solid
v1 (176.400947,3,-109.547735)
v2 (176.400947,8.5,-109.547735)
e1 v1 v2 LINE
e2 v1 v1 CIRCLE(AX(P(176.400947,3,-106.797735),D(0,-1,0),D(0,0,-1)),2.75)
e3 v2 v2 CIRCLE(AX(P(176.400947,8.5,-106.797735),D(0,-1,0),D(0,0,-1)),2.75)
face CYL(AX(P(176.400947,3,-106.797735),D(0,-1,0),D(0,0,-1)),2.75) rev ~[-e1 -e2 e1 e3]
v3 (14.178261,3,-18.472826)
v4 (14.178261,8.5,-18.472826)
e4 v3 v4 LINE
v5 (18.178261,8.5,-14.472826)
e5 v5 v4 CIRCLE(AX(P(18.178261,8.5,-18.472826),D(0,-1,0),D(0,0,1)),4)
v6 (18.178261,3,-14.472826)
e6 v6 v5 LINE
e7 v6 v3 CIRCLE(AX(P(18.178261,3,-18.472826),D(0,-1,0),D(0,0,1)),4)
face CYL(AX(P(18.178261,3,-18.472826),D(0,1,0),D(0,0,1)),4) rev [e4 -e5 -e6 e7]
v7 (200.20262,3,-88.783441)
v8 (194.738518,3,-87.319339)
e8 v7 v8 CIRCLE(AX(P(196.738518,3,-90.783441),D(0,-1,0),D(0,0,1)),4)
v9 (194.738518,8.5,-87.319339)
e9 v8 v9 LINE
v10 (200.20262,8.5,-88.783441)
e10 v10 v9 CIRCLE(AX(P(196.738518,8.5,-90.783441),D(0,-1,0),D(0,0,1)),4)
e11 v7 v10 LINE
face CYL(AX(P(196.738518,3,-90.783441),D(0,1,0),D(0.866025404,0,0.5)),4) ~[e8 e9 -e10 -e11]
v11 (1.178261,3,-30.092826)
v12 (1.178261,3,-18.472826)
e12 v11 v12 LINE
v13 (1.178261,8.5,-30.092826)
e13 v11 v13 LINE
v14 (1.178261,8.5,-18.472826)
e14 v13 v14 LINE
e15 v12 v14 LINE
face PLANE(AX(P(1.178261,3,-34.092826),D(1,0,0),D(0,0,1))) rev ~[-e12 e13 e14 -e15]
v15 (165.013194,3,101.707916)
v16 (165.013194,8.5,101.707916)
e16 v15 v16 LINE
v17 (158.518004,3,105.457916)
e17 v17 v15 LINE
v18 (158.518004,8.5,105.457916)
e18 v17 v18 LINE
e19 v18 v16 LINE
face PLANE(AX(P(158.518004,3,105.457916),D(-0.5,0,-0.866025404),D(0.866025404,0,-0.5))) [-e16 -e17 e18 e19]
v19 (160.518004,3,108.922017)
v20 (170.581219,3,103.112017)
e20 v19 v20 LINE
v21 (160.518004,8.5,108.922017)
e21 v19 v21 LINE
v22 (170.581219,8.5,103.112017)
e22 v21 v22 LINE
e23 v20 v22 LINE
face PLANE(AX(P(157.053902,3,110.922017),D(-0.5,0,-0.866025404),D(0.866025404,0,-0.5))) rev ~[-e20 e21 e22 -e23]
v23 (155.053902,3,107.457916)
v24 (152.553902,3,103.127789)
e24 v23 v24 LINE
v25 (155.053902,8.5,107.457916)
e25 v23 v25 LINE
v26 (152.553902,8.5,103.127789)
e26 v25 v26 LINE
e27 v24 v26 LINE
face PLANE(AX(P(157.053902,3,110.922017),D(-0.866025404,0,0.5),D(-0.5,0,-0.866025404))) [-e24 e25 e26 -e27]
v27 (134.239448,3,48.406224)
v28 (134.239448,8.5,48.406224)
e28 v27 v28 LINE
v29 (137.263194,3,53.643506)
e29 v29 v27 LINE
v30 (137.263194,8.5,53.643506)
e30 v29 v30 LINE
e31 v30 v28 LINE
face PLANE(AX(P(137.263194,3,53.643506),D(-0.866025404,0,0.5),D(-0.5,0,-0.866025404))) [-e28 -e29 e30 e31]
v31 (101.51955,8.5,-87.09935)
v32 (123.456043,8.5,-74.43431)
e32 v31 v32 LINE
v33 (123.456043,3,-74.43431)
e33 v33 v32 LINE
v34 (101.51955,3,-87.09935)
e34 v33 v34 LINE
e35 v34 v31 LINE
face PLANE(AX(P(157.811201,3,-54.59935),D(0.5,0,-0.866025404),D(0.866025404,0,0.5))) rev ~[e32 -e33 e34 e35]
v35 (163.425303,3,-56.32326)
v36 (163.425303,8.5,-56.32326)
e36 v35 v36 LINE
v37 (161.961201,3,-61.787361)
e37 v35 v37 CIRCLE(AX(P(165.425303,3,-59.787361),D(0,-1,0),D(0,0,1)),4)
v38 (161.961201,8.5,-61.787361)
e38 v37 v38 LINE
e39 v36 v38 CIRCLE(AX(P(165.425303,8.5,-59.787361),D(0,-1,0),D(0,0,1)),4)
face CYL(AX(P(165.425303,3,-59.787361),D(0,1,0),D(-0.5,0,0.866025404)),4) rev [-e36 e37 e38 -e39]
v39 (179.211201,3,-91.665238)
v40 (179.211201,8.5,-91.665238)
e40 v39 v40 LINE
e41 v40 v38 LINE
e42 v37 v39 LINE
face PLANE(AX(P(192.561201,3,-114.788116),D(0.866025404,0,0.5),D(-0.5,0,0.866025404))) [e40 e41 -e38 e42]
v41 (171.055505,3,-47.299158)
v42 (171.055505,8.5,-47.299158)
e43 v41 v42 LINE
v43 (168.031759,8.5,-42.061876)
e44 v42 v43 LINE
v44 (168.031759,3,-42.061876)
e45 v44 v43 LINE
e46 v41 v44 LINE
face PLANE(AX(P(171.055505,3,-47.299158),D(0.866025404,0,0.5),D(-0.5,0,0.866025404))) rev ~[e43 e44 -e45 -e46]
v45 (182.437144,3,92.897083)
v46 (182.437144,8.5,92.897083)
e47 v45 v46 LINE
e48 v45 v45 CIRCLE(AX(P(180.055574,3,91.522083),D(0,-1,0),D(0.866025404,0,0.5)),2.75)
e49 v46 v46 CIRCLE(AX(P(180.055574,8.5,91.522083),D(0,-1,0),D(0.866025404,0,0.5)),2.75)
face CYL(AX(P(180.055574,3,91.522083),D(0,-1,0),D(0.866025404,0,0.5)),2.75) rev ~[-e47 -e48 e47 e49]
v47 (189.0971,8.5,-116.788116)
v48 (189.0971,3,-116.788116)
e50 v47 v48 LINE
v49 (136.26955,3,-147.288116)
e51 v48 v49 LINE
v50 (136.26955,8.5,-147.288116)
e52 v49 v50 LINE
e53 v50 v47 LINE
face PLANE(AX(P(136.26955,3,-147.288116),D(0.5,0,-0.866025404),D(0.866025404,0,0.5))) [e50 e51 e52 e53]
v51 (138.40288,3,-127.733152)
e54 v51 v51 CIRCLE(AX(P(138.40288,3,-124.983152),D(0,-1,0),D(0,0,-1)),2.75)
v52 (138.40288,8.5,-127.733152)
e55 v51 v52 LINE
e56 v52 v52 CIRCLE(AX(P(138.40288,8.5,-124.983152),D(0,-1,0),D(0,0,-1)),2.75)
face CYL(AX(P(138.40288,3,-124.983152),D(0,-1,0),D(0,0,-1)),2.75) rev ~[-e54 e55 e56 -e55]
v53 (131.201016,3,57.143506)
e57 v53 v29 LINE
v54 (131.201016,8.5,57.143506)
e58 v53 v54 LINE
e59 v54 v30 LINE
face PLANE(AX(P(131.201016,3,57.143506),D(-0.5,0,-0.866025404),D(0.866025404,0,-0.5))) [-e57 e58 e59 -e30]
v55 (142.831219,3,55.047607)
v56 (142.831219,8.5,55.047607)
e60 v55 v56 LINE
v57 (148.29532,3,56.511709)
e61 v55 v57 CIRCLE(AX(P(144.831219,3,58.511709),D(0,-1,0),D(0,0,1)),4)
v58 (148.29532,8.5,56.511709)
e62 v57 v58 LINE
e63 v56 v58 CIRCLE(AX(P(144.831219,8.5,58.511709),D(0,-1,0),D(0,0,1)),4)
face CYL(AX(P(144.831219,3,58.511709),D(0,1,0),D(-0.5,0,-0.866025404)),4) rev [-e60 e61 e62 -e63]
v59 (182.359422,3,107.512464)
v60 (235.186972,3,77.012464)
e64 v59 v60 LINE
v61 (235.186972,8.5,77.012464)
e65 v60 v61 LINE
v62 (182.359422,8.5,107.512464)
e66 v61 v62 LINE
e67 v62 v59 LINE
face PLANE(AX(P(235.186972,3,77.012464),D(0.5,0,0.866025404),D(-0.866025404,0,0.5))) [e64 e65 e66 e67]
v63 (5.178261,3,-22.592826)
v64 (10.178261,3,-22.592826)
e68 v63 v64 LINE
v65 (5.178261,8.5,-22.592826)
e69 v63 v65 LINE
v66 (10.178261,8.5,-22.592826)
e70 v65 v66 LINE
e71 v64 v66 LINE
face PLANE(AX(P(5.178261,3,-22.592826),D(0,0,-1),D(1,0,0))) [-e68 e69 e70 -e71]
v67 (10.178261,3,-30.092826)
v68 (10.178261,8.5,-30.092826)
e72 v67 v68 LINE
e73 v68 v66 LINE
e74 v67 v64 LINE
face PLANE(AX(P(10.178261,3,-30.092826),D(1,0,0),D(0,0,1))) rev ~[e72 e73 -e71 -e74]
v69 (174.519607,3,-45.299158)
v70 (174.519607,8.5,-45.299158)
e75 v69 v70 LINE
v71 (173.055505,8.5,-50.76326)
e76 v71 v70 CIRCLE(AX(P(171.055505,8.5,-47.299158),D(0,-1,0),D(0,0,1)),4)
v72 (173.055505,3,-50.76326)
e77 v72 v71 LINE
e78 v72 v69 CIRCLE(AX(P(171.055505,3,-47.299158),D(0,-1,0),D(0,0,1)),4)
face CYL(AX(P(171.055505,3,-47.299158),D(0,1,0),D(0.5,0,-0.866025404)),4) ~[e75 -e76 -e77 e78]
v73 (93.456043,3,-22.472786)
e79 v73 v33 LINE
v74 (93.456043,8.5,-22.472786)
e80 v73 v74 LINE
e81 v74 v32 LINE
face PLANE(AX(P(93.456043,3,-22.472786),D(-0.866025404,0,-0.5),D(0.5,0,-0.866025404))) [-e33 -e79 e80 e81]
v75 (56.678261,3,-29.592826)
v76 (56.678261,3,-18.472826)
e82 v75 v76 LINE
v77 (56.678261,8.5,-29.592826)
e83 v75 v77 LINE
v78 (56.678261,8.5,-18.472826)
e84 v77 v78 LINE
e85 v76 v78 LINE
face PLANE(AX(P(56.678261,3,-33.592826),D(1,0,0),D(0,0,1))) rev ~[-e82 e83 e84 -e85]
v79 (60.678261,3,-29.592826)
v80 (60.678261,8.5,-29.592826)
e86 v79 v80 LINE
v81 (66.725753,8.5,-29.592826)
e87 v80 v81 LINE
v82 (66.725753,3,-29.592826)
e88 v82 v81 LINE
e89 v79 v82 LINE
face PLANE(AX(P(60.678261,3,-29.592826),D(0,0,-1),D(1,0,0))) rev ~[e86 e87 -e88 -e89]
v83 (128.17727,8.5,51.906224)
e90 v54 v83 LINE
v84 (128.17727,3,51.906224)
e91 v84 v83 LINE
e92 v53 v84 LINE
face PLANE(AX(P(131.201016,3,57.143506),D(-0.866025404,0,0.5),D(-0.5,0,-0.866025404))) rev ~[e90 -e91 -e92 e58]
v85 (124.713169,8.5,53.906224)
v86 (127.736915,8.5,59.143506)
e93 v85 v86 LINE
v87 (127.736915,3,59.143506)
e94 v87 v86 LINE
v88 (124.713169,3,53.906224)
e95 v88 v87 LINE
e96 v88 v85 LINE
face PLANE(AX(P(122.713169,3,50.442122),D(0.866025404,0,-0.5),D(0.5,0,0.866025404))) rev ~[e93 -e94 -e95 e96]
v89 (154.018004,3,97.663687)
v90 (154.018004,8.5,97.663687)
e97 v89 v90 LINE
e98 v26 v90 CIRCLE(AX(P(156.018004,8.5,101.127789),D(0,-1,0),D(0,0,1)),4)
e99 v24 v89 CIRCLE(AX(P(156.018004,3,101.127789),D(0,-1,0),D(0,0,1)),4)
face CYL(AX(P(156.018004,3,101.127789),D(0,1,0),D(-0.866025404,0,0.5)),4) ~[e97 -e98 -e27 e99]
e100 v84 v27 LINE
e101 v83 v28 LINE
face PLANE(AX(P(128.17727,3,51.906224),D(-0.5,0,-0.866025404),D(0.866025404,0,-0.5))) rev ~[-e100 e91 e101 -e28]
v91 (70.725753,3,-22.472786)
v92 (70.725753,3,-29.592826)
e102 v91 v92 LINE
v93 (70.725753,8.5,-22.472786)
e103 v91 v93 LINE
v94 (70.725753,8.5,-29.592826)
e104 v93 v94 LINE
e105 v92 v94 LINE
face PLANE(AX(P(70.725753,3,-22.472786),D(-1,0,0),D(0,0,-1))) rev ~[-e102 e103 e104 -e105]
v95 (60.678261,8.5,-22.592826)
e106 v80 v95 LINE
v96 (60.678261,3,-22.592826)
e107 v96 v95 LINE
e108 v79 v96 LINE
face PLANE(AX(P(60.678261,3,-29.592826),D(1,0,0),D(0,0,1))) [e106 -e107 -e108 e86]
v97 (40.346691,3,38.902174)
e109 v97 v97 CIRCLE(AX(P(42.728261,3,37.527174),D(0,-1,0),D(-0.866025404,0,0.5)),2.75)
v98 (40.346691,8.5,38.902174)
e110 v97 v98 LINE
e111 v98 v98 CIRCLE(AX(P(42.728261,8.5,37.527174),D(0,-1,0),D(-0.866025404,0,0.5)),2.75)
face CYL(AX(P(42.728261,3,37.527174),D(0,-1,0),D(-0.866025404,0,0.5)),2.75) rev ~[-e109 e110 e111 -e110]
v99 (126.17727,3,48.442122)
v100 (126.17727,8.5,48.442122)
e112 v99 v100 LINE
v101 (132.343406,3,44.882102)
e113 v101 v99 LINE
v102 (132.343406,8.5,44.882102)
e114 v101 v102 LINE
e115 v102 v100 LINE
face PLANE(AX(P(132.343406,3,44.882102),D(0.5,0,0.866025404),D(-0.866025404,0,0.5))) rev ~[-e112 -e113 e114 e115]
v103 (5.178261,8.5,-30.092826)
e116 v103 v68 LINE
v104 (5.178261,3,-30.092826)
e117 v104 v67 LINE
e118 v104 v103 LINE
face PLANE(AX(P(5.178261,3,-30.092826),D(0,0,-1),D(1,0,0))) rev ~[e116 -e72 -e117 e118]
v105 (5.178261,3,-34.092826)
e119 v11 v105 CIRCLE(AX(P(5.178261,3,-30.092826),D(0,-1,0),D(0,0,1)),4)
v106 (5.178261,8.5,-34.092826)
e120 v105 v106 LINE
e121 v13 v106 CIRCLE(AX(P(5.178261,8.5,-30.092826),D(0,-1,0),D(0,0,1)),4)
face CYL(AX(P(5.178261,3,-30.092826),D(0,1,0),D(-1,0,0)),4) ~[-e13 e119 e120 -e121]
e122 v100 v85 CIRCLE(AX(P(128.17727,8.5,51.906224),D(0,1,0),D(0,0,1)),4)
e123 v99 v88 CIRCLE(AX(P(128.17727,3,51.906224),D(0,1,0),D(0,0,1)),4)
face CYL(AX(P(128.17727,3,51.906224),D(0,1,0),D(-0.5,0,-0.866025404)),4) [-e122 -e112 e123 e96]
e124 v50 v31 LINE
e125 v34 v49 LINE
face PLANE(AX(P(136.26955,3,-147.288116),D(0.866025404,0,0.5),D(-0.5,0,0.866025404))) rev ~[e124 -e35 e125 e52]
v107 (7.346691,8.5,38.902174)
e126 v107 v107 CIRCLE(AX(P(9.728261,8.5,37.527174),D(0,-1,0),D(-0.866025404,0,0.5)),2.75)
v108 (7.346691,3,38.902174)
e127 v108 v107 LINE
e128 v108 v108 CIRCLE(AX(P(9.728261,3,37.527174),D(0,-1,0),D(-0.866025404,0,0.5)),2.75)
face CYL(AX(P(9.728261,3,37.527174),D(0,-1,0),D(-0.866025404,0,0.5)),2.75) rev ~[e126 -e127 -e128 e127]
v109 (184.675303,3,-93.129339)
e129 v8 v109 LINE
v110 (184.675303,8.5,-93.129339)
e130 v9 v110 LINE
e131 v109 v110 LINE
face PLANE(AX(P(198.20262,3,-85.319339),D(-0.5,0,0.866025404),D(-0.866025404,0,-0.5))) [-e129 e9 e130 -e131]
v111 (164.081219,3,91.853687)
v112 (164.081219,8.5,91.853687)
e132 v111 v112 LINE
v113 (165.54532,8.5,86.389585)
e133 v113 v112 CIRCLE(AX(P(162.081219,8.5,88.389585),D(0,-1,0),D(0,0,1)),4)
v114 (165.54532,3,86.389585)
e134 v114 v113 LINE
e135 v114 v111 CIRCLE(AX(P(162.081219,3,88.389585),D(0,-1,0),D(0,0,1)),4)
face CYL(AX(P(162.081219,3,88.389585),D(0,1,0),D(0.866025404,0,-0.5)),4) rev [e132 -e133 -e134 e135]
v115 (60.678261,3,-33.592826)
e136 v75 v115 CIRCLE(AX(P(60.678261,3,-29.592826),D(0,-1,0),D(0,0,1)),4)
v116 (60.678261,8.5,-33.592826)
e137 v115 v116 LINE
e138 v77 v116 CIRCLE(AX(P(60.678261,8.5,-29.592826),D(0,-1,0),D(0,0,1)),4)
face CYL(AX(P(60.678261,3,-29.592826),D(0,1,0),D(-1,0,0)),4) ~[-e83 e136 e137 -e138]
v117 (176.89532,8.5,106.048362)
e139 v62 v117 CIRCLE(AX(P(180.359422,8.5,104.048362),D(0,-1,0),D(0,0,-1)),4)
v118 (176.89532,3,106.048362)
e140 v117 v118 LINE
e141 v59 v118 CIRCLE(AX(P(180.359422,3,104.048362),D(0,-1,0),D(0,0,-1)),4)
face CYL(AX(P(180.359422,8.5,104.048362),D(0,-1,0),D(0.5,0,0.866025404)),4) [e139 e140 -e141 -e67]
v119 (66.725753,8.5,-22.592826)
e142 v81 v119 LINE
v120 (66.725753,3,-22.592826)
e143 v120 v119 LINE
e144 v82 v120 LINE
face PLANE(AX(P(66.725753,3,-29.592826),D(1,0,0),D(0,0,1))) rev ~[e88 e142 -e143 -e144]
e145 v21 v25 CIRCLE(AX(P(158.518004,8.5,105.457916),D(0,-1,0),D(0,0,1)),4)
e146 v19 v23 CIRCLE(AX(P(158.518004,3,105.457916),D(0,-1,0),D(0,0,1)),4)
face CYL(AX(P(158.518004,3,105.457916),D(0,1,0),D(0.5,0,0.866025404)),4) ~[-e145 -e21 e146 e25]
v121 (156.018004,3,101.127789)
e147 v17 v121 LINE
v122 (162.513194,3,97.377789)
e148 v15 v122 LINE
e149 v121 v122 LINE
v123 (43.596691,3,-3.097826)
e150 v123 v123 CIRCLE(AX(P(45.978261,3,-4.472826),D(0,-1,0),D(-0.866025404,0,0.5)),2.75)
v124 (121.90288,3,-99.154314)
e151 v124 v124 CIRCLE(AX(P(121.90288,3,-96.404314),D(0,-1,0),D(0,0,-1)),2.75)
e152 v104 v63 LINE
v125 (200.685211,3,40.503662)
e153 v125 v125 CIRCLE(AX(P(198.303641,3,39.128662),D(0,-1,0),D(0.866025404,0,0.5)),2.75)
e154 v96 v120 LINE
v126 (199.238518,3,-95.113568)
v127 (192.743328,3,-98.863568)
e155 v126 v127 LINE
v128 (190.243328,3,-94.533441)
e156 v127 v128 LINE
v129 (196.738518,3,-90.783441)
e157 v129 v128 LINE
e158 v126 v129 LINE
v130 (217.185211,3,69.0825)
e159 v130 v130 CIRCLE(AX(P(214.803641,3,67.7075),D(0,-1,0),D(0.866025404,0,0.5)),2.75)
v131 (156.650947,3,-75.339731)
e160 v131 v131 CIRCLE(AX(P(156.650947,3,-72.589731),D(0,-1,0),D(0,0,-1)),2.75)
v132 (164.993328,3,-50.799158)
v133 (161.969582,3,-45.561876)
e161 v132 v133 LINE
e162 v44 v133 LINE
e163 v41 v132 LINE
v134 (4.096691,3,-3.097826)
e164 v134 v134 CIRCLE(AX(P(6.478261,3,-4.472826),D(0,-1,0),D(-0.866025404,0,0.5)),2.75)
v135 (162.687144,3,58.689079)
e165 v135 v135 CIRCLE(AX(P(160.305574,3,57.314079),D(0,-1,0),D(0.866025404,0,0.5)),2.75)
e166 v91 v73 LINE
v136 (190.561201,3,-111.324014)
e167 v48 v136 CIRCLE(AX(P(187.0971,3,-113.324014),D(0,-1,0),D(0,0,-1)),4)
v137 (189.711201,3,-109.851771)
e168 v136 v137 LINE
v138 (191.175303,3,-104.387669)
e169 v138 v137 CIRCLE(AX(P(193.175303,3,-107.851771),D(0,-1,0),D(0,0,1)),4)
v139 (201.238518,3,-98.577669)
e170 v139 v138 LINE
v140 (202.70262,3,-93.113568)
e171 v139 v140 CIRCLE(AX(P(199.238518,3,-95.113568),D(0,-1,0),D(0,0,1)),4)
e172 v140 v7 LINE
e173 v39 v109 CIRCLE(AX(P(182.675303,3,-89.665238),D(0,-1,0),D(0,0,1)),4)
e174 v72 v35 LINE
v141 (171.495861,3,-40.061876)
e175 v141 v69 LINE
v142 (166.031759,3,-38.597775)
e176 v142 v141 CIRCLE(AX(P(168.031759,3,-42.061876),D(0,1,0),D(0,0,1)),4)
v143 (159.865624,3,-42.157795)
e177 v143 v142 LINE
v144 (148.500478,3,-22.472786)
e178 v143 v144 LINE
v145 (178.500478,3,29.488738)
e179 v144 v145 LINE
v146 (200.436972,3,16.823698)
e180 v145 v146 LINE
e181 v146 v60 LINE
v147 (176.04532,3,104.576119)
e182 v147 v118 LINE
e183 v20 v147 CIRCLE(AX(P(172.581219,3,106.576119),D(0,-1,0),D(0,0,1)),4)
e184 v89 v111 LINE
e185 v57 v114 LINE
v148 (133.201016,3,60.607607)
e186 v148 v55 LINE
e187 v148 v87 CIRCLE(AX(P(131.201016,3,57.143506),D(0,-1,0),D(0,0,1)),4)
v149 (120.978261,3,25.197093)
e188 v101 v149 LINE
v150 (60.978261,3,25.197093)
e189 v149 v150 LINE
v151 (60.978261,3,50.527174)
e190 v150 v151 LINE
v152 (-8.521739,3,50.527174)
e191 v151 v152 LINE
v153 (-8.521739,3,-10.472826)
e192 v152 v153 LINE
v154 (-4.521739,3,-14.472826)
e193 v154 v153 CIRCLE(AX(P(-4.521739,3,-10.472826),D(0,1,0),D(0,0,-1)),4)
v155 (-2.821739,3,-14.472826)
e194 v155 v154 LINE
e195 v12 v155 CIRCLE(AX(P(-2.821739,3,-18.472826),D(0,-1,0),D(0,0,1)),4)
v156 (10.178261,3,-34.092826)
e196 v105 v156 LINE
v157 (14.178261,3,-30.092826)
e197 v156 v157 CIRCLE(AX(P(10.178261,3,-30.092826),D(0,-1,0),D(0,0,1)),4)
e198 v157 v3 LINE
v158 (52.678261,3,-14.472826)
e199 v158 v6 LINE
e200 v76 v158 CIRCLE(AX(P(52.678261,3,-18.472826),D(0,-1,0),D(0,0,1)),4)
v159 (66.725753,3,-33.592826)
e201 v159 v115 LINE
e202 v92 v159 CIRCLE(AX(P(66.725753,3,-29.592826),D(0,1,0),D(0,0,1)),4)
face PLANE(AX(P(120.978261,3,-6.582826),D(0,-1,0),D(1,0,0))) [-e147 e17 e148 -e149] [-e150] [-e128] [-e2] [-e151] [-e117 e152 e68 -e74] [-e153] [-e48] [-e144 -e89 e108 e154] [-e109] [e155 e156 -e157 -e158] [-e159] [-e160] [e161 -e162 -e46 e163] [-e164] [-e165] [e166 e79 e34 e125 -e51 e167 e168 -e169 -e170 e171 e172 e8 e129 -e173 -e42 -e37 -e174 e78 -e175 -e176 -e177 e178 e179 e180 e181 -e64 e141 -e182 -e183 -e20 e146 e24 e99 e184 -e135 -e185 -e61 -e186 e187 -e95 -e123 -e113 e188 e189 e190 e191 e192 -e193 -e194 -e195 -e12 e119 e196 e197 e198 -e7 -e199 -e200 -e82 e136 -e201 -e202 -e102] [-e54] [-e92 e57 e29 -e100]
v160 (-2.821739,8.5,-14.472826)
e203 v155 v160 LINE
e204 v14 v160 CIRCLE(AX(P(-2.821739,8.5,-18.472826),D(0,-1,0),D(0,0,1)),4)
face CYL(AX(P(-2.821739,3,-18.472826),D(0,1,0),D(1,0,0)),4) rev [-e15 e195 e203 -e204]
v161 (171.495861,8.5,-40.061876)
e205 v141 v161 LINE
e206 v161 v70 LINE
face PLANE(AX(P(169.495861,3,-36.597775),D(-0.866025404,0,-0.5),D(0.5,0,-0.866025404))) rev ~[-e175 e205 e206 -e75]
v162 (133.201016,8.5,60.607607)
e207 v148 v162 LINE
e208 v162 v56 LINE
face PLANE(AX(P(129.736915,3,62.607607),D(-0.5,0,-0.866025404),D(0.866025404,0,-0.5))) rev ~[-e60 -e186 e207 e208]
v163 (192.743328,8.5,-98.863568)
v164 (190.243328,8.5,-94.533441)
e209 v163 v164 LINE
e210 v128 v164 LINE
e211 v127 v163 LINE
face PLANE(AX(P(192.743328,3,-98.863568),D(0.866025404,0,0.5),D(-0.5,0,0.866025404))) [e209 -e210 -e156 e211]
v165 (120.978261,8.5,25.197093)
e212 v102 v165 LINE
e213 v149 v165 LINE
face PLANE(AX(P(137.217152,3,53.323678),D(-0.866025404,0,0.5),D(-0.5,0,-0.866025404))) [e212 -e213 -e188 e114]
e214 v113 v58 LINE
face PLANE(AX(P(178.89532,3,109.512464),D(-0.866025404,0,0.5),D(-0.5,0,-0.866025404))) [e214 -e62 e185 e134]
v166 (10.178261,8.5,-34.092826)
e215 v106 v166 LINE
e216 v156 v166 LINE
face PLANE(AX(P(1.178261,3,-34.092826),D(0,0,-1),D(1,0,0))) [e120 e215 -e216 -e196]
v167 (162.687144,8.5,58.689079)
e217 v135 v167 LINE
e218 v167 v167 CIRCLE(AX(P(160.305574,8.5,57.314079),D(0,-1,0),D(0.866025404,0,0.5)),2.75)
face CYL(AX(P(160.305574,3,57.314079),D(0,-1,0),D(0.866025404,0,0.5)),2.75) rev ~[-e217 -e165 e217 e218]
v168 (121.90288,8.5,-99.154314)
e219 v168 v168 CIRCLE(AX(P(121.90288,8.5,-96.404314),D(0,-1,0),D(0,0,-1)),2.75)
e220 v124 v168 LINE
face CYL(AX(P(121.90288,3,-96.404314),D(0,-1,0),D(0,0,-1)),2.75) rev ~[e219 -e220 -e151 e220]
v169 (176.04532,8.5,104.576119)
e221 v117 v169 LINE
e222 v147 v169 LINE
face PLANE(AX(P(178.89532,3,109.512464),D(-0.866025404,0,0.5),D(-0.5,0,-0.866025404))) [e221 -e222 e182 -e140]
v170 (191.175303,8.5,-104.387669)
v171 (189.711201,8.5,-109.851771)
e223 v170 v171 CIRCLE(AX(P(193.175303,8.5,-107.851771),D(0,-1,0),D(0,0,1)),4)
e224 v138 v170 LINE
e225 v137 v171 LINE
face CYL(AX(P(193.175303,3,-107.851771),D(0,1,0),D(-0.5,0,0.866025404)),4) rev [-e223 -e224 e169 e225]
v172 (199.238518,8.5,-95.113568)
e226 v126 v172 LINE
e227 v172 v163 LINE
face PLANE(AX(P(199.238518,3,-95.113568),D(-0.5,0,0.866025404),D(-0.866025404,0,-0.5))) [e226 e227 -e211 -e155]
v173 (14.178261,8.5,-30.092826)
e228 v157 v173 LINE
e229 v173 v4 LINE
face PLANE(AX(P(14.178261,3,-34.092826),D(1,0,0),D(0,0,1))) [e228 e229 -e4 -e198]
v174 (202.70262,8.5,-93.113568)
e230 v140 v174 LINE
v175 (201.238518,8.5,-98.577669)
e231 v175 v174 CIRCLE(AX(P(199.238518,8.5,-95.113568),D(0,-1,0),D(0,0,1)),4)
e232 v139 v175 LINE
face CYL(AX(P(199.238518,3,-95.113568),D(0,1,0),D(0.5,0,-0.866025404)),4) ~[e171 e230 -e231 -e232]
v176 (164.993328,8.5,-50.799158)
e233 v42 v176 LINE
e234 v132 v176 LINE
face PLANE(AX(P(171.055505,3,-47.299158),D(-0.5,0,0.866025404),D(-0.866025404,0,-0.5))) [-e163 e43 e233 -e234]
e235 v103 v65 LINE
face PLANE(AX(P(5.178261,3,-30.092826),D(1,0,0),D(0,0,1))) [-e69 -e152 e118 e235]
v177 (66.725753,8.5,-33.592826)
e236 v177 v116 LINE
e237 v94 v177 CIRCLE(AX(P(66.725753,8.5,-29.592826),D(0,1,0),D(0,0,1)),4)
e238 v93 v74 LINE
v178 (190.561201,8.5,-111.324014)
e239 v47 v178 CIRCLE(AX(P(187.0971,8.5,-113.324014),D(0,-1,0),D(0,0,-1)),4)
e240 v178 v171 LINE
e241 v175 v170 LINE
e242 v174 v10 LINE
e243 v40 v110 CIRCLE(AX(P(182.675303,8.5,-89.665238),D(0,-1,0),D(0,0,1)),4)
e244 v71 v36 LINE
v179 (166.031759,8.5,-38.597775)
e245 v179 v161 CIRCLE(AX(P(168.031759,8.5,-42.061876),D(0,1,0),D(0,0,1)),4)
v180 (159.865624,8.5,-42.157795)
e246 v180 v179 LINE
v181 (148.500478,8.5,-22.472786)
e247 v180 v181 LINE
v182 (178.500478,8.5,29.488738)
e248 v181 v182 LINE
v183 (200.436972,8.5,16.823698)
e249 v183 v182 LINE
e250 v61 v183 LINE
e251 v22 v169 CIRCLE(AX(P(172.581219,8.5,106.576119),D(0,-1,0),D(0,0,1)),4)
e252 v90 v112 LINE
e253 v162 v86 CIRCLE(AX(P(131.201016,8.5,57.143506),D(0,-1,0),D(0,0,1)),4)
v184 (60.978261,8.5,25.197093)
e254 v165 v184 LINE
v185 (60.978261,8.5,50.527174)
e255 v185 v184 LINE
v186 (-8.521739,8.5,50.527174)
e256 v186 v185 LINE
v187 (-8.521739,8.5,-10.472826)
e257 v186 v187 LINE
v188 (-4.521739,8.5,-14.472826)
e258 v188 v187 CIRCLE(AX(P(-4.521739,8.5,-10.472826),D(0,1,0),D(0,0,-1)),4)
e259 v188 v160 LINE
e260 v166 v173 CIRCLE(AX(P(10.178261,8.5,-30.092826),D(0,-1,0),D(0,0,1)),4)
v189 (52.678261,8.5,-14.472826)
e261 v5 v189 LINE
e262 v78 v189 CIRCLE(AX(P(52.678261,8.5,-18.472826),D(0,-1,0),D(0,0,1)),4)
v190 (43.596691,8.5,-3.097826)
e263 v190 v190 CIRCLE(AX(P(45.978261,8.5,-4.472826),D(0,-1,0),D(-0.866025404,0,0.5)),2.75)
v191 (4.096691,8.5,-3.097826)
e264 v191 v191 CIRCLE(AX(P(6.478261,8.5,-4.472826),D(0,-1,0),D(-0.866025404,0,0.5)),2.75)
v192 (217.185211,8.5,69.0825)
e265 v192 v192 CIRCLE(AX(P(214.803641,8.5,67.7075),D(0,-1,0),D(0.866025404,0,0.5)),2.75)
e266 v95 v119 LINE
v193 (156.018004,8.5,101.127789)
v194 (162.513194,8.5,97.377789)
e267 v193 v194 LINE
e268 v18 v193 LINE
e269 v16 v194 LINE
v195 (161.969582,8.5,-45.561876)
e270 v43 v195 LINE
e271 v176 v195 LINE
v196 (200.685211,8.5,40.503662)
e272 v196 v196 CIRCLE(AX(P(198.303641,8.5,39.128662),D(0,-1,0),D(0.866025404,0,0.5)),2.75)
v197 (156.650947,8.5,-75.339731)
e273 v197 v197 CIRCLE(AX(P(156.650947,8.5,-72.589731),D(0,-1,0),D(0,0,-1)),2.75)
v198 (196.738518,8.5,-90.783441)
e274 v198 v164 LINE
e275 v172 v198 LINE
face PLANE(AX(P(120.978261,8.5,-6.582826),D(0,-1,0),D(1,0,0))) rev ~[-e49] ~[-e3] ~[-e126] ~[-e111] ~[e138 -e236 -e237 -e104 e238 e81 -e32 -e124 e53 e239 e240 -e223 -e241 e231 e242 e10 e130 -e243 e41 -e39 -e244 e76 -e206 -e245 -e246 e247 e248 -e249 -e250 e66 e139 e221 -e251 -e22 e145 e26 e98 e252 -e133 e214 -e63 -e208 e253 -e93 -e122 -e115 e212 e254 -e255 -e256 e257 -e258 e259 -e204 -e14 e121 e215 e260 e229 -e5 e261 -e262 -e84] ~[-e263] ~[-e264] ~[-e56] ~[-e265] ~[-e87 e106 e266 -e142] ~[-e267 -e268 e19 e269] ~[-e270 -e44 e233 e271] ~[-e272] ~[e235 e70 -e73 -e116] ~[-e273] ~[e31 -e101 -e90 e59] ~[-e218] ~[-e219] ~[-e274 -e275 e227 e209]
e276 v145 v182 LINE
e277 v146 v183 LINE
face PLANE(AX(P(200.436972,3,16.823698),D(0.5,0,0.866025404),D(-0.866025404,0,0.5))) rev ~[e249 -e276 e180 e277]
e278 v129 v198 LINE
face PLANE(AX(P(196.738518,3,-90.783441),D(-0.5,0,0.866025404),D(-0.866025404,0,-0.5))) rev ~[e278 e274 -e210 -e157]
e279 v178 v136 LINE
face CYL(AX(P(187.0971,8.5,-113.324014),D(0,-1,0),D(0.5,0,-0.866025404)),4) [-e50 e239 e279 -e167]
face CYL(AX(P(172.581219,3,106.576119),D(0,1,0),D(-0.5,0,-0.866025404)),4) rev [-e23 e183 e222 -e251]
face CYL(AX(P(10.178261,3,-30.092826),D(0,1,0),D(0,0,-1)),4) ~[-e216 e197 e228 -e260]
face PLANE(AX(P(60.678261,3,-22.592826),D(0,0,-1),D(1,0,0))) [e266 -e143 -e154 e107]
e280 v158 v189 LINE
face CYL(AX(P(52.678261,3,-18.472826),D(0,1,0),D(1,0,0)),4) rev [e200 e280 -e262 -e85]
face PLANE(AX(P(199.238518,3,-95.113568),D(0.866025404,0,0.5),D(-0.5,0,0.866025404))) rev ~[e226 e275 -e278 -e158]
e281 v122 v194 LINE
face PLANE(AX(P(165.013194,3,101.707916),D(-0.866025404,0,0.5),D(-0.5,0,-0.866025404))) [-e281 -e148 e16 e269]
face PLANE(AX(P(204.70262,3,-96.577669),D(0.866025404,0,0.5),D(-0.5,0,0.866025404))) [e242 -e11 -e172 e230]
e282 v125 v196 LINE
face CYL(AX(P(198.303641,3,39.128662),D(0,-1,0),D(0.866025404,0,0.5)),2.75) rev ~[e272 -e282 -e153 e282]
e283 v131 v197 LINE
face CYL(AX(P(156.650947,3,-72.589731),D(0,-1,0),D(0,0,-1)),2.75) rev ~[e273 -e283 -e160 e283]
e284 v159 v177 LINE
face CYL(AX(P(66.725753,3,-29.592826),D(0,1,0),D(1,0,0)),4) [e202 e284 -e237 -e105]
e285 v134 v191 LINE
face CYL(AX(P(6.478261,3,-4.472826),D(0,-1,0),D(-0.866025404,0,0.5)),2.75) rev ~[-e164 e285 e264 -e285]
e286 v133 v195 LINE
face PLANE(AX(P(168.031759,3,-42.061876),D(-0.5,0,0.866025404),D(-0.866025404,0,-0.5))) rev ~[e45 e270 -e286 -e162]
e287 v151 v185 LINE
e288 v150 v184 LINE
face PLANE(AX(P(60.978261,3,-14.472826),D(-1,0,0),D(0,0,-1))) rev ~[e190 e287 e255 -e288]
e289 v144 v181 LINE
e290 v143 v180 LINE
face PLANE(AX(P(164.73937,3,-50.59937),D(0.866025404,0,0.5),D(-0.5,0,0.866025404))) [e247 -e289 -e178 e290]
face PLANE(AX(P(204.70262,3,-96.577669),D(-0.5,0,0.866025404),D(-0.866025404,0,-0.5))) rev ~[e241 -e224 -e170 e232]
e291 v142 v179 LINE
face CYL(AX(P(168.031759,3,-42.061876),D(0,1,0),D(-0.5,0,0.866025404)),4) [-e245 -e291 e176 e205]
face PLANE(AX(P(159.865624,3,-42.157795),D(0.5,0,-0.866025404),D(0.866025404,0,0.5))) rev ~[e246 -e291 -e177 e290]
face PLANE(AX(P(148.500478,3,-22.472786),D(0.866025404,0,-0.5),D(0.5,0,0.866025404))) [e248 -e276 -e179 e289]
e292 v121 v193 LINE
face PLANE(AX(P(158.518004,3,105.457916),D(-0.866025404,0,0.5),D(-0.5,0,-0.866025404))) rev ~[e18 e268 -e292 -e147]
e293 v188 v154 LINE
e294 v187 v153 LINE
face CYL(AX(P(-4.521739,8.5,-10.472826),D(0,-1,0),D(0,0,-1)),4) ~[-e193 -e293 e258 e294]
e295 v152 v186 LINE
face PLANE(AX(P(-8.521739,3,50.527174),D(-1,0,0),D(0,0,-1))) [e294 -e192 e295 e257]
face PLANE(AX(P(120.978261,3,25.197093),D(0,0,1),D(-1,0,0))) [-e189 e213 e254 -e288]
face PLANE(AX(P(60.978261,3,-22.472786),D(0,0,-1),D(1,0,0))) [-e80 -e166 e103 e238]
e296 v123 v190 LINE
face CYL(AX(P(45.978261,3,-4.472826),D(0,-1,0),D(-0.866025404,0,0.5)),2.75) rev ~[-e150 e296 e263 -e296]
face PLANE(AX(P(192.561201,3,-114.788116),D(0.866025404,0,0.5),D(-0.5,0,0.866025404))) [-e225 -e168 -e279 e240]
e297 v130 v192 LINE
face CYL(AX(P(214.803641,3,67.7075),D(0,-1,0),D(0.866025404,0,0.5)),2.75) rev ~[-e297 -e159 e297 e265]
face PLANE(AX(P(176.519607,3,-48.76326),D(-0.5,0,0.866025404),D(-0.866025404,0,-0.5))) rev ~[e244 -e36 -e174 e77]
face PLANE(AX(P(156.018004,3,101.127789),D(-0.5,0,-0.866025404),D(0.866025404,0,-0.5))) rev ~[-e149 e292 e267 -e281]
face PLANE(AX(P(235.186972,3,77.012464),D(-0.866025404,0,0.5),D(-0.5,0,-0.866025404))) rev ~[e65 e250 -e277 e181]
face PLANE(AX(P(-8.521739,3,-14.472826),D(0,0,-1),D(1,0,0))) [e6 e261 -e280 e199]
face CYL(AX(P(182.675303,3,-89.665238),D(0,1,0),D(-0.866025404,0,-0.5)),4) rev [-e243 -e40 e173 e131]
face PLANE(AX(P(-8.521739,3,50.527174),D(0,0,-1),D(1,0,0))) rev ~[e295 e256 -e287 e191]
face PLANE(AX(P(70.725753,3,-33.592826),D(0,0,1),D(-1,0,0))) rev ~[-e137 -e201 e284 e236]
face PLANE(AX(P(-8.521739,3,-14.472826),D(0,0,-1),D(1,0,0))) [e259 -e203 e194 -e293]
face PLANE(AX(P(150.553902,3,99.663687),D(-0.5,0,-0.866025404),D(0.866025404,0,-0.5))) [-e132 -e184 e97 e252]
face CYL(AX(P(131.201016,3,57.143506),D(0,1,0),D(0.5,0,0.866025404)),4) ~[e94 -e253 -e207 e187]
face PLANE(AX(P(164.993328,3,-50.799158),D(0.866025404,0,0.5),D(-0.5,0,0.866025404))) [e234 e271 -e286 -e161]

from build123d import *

# Parameters (mm, degrees)
SKETCH3_W           = 69.5
SKETCH3_H           = 65
SKETCH3_W_2         = 63.5
SKETCH3_H_2         = 59
BOSS_EXTRUDE1_DEPTH = 3
SKETCH4_W           = 69.5
SKETCH4_H           = 65
BOSS_EXTRUDE2_DEPTH = 5.5
CIRPATTERN3_COUNT   = 3
CUT_EXTRUDE2_DEPTH  = 10
BOSS_EXTRUDE3_DEPTH = 3
CUT_EXTRUDE3_DEPTH  = 10
BOSS_EXTRUDE4_DEPTH = 3
SKETCH13_W          = 82.978771181
SKETCH13_H          = 57.040542226
CUT_EXTRUDE4_DEPTH  = 3
SKETCH15_W          = 69.5
SKETCH15_H          = 3
BOSS_EXTRUDE5_DEPTH = 3
SKETCH16_W          = 13
SKETCH16_H          = 19.62
SKETCH16_W_2        = 5
SKETCH16_H_2        = 7.5
SKETCH16_W_3        = 6.047492089
SKETCH16_H_3        = 7
BOSS_EXTRUDE6_DEPTH = 5.5
CIRPATTERN6_COUNT   = 3
FILLET1_R           = 4
FILLET2_R           = 4
FILLET3_R           = 4
FILLET4_R           = 4
FILLET5_R           = 4
FILLET6_R           = 4
FILLET7_R           = 4
FILLET8_R           = 4
FILLET9_R           = 4
SKETCH17_R          = 2.75
CUT_EXTRUDE5_DEPTH  = 10
SKETCH18_R          = 2.75
CUT_EXTRUDE6_DEPTH  = 10
SKETCH20_W          = 65.1
SKETCH20_H          = 42.78
CUT_EXTRUDE7_DEPTH  = 3
CIRPATTERN7_COUNT   = 3
SKETCH27_W          = 419.814756296
SKETCH27_H          = 327.807450426
CUT_EXTRUDE9_DEPTH  = 390
BOSS_EXTRUDE7_DEPTH = 5.5


with BuildPart() as part:
    # Sketch3 → Boss-Extrude1 (new body)
    with BuildSketch(Plane(origin=(0, 0, 0), x_dir=(1, 0, 0), z_dir=(0, 1, 0))):
        with Locations((26.22826087, -18.027173913)):
            Rectangle(SKETCH3_W, SKETCH3_H)
        with Locations((26.22826087, -18.027173913)):
            Rectangle(SKETCH3_W_2, SKETCH3_H_2, mode=Mode.SUBTRACT)
    extrude(amount=BOSS_EXTRUDE1_DEPTH)

    # Sketch4 → Boss-Extrude2 (add)
    with BuildSketch(Plane(origin=(0, 3, 0), x_dir=(1, 0, 0), z_dir=(0, 1, 0))):
        with Locations((26.22826087, -18.027173913)):
            Rectangle(SKETCH4_W, SKETCH4_H)
    extrude(amount=BOSS_EXTRUDE2_DEPTH)


with BuildPart() as cirpattern3_1:
    # CirPattern3: pattern copy
    add(part.part.rotate(Axis((120.97826087, 0, -6.582826087), (0, 1, 0)), 1 * 360 / CIRPATTERN3_COUNT))

    # Sketch9 → Cut-Extrude2 (cut)
    with BuildSketch(Plane.XZ.offset(-3)):
        Polygon((197.088747537, 99.38440381), (174.375371267, 112.497977714), (139.363302127, 51.855295087), (162.076678398, 38.741721183), align=None)
    extrude(amount=CUT_EXTRUDE2_DEPTH, mode=Mode.SUBTRACT)

    # Sketch10 → Boss-Extrude3 (add)
    with BuildSketch(Plane.XZ.offset(-3)):
        Polygon((196.92596934, 99.102463703), (162.17596934, 38.91369814), (159.577893129, 40.41369814), (194.327893129, 100.602463703), align=None)
    extrude(amount=BOSS_EXTRUDE3_DEPTH)

    # Fillet9
    fillet9_edges = [cirpattern3_1.edges().sort_by_distance(p)[0] for p in [
        (178.895320434, 5.75, 109.512463703),
    ]]
    fillet(fillet9_edges, radius=FILLET9_R)


with BuildPart() as cirpattern3_2:
    # CirPattern3: pattern copy
    add(part.part.rotate(Axis((120.97826087, 0, -6.582826087), (0, 1, 0)), 2 * 360 / CIRPATTERN3_COUNT))

    # Sketch11 → Cut-Extrude3 (cut)
    with BuildSketch(Plane.XZ.offset(-3)):
        Polygon((174.619846892, -125.352778477), (139.700043551, -64.869904899), (160.048933868, -53.121467597), (194.96873721, -113.604341175), align=None)
    extrude(amount=CUT_EXTRUDE3_DEPTH, mode=Mode.SUBTRACT)

    # Sketch12 → Boss-Extrude4 (add)
    with BuildSketch(Plane(origin=(0, 3, 0), x_dir=(-1, 0, 0), z_dir=(0, -1, 0))):
        Polygon((-174.530552399, 125.198115877), (-139.780552399, 65.009350314), (-142.37862861, 63.509350314), (-177.12862861, 123.698115877), align=None)
    extrude(amount=BOSS_EXTRUDE4_DEPTH)

    # Fillet7
    fillet7_edges = [cirpattern3_2.edges().sort_by_distance(p)[0] for p in [
        (192.561201305, 5.75, -114.788115877),
    ]]
    fillet(fillet7_edges, radius=FILLET7_R)


with BuildPart() as part_1:
    add(part.part)

    # Sketch13 → Cut-Extrude4 (cut)
    with BuildSketch(Plane(origin=(0, 3, 0), x_dir=(-1, 0, 0), z_dir=(0, -1, 0))):
        with Locations((-19.48887528, 25.1730972)):
            Rectangle(SKETCH13_W, SKETCH13_H)
    extrude(amount=CUT_EXTRUDE4_DEPTH, mode=Mode.SUBTRACT)

    # Sketch15 → Boss-Extrude5 (add)
    with BuildSketch(Plane.XZ.offset(-3)):
        with Locations((26.22826087, 4.847173913)):
            Rectangle(SKETCH15_W, SKETCH15_H)
    extrude(amount=BOSS_EXTRUDE5_DEPTH)

    # Sketch16 → Boss-Extrude6 (add)
    # profile 1 of 2: a face of its own
    with BuildSketch(Plane.XZ.offset(-3)):
        with Locations((7.67826087, -24.282826087)):
            Rectangle(SKETCH16_W, SKETCH16_H)
        with Locations((7.67826087, -26.342826087)):
            Rectangle(SKETCH16_W_2, SKETCH16_H_2, mode=Mode.SUBTRACT)
    # profile 2 of 2: a face of its own
    with BuildSketch(Plane.XZ.offset(-3)):
        Polygon((56.67826087, -14.472826087), (60.97826087, -14.472826087), (60.97826087, -22.472785755), (70.725752959, -22.472785755), (70.725752959, -33.592826087), (56.67826087, -33.592826087), align=None)
        with Locations((63.702006915, -26.092826087)):
            Rectangle(SKETCH16_W_3, SKETCH16_H_3, mode=Mode.SUBTRACT)
    extrude(amount=-BOSS_EXTRUDE6_DEPTH)


with BuildPart() as cirpattern6_1:
    # CirPattern6: pattern copy
    add(part_1.part.rotate(Axis((120.97826087, 0, -6.582826087), (0, 1, 0)), 1 * 360 / CIRPATTERN6_COUNT))

    # Fillet3
    fillet3_edges = [cirpattern6_1.edges().sort_by_distance(p)[0] for p in [
        (157.053902011, 5.75, 110.922017286),
        (150.553902011, 5.75, 99.663687037),
        (129.736914713, 5.75, 62.607607376),
        (122.713168668, 5.75, 50.442122367),
    ]]
    fillet(fillet3_edges, radius=FILLET3_R)

    # Fillet5
    fillet5_edges = [cirpattern6_1.edges().sort_by_distance(p)[0] for p in [
        (167.545320434, 5.75, 89.853687037),
        (146.295320434, 5.75, 53.047607376),
        (178.895320434, 5.75, 109.512463703),
    ]]
    fillet(fillet5_edges, radius=FILLET5_R)

    # Fillet8
    fillet8_edges = [cirpattern6_1.edges().sort_by_distance(p)[0] for p in [
        (174.045320434, 5.75, 101.112017286),
    ]]
    fillet(fillet8_edges, radius=FILLET8_R)


with BuildPart() as cirpattern6_2:
    # CirPattern6: pattern copy
    add(part_1.part.rotate(Axis((120.97826087, 0, -6.582826087), (0, 1, 0)), 2 * 360 / CIRPATTERN6_COUNT))

    # Fillet2
    fillet2_edges = [cirpattern6_2.edges().sort_by_distance(p)[0] for p in [
        (204.702619728, 5.75, -96.57766946),
        (198.202619728, 5.75, -85.319339211),
        (176.519607026, 5.75, -48.76325955),
        (169.495860981, 5.75, -36.597774541),
    ]]
    fillet(fillet2_edges, radius=FILLET2_R)

    # Fillet4
    fillet4_edges = [cirpattern6_2.edges().sort_by_distance(p)[0] for p in [
        (187.711201305, 5.75, -106.38766946),
        (181.211201305, 5.75, -95.129339211),
        (159.961201305, 5.75, -58.32325955),
        (192.561201305, 5.75, -114.788115877),
    ]]
    fillet(fillet4_edges, radius=FILLET4_R)


with BuildPart() as part_2:
    add(part_1.part)

    # Fillet1
    fillet1_edges = [part_2.edges().sort_by_distance(p)[0] for p in [
        (1.17826087, 5.75, -34.092826087),
        (14.17826087, 5.75, -34.092826087),
        (56.67826087, 5.75, -33.592826087),
        (70.725752959, 5.75, -33.592826087),
    ]]
    fillet(fillet1_edges, radius=FILLET1_R)

    # Fillet6
    fillet6_edges = [part_2.edges().sort_by_distance(p)[0] for p in [
        (1.17826087, 5.75, -14.472826087),
        (14.17826087, 5.75, -14.472826087),
        (56.67826087, 5.75, -14.472826087),
        (-8.52173913, 5.75, -14.472826087),
    ]]
    fillet(fillet6_edges, radius=FILLET6_R)


with BuildPart() as cut_extrude5_tool:
    # Sketch17 → Cut-Extrude5 (new body)
    with BuildSketch(Plane(origin=(0, 3, 0), x_dir=(-1, 0, 0), z_dir=(0, -1, 0))):
        with Locations(Location((-121.902880309, 96.404313933, 0), (0, 0, 90))):
            Circle(SKETCH17_R)
        with Locations(Location((-138.402880309, 124.983152258, 0), (0, 0, 90))):
            Circle(SKETCH17_R)
    cut_extrude5 = extrude(amount=-CUT_EXTRUDE5_DEPTH)


with BuildPart() as cirpattern3_2_1:
    add(cirpattern3_2.part)

    # Cut-Extrude5: cut by cut_extrude5_tool
    add(cut_extrude5_tool.part, mode=Mode.SUBTRACT)


with BuildPart() as cirpattern6_2_1:
    add(cirpattern6_2.part)

    # Cut-Extrude5: cut by cut_extrude5_tool
    add(cut_extrude5_tool.part, mode=Mode.SUBTRACT)


with BuildPart() as cut_extrude6_tool:
    # Sketch18 → Cut-Extrude6 (new body)
    with BuildSketch(Plane.XZ.offset(-3)):
        with Locations(Location((176.400947268, -106.79773482, 0), (0, 0, 270))):
            Circle(SKETCH18_R)
        with Locations(Location((156.650947268, -72.589731371, 0), (0, 0, 270))):
            Circle(SKETCH18_R)
    cut_extrude6 = extrude(amount=-CUT_EXTRUDE6_DEPTH)


with BuildPart() as cirpattern3_2_2:
    add(cirpattern3_2_1.part)

    # Cut-Extrude6: cut by cut_extrude6_tool
    add(cut_extrude6_tool.part, mode=Mode.SUBTRACT)


with BuildPart() as cirpattern6_2_2:
    add(cirpattern6_2_1.part)

    # Cut-Extrude6: cut by cut_extrude6_tool
    add(cut_extrude6_tool.part, mode=Mode.SUBTRACT)


with BuildPart() as cut_extrude7_tool:
    # Sketch20 → Cut-Extrude7 (new body)
    with BuildSketch(Plane.XZ):
        with Locations((26.22826087, 26.937173913)):
            Rectangle(SKETCH20_W, SKETCH20_H)
        Polygon((195.133149017, 97.597207815), (162.583149017, 41.218954028), (199.631715791, 19.828954028), (232.181715791, 76.207207815), align=None)
        Polygon((174.123372722, -122.892859989), (141.573372722, -66.514606202), (104.524805948, -87.904606202), (137.074805948, -144.282859989), align=None)
    extrude(amount=-CUT_EXTRUDE7_DEPTH)


with BuildPart() as part_3:
    add(part_2.part)

    # Cut-Extrude7: cut by cut_extrude7_tool
    add(cut_extrude7_tool.part, mode=Mode.SUBTRACT)


with BuildPart() as cirpattern3_1_1:
    add(cirpattern3_1.part)

    # Cut-Extrude7: cut by cut_extrude7_tool
    add(cut_extrude7_tool.part, mode=Mode.SUBTRACT)


with BuildPart() as cirpattern3_2_3:
    add(cirpattern3_2_2.part)

    # Cut-Extrude7: cut by cut_extrude7_tool
    add(cut_extrude7_tool.part, mode=Mode.SUBTRACT)


with BuildPart() as cirpattern6_1_1:
    add(cirpattern6_1.part)

    # Cut-Extrude7: cut by cut_extrude7_tool
    add(cut_extrude7_tool.part, mode=Mode.SUBTRACT)


with BuildPart() as cirpattern6_2_3:
    add(cirpattern6_2_2.part)

    # Cut-Extrude7: cut by cut_extrude7_tool
    add(cut_extrude7_tool.part, mode=Mode.SUBTRACT)


with BuildPart() as cirpattern7_tool:
    # CirPattern7: Cut-Extrude5, Cut-Extrude6 ×3 about axis
    cirpattern7_axis = Axis((120.97826087, 0, -6.582826087), (0, 1, 0))
    add([cut_extrude5.rotate(cirpattern7_axis, i * 360 / CIRPATTERN7_COUNT) for i in range(1, CIRPATTERN7_COUNT)])
    add([cut_extrude6.rotate(cirpattern7_axis, i * 360 / CIRPATTERN7_COUNT) for i in range(1, CIRPATTERN7_COUNT)])


with BuildPart() as part_4:
    add(part_3.part)

    # CirPattern7: cut by cirpattern7_tool
    add(cirpattern7_tool.part, mode=Mode.SUBTRACT)


with BuildPart() as cirpattern3_1_2:
    add(cirpattern3_1_1.part)

    # CirPattern7: cut by cirpattern7_tool
    add(cirpattern7_tool.part, mode=Mode.SUBTRACT)


with BuildPart() as cirpattern6_1_2:
    add(cirpattern6_1_1.part)

    # CirPattern7: cut by cirpattern7_tool
    add(cirpattern7_tool.part, mode=Mode.SUBTRACT)


with BuildPart() as cut_extrude9_tool:
    # Sketch27 → Cut-Extrude9 (new body)
    with BuildSketch(Plane.XZ.offset(-3)):
        with Locations((125.901920355, -45.562024754)):
            Rectangle(SKETCH27_W, SKETCH27_H)
    extrude(amount=CUT_EXTRUDE9_DEPTH)


with BuildPart() as part_5:
    add(part_4.part)

    # Cut-Extrude9: cut by cut_extrude9_tool
    add(cut_extrude9_tool.part, mode=Mode.SUBTRACT)



with BuildPart() as cirpattern3_1_3:
    add(cirpattern3_1_2.part)

    # Cut-Extrude9: cut by cut_extrude9_tool
    add(cut_extrude9_tool.part, mode=Mode.SUBTRACT)


with BuildPart() as cirpattern3_2_4:
    add(cirpattern3_2_3.part)

    # Cut-Extrude9: cut by cut_extrude9_tool
    add(cut_extrude9_tool.part, mode=Mode.SUBTRACT)


with BuildPart() as cirpattern6_1_3:
    add(cirpattern6_1_2.part)

    # Cut-Extrude9: cut by cut_extrude9_tool
    add(cut_extrude9_tool.part, mode=Mode.SUBTRACT)


with BuildPart() as cirpattern6_2_4:
    add(cirpattern6_2_3.part)

    # Cut-Extrude9: cut by cut_extrude9_tool
    add(cut_extrude9_tool.part, mode=Mode.SUBTRACT)


with BuildPart() as part_6:
    add(part_5.part)

    add(cirpattern3_1_3.part)  # Boss-Extrude7 merges CirPattern3_1

    add(cirpattern3_2_4.part)  # Boss-Extrude7 merges CirPattern3_2

    add(cirpattern6_1_3.part)  # Boss-Extrude7 merges CirPattern6_1

    add(cirpattern6_2_4.part)  # Boss-Extrude7 merges CirPattern6_2
    # Sketch28 → Boss-Extrude7 (add)
    with BuildSketch(Plane.XZ.offset(-3)):
        Polygon((148.500478345, -22.472785755), (120.97826087, 25.197093249), (93.456043394, -22.472785755), align=None)
        Polygon((120.97826087, 25.197093249), (60.97826087, 25.197093249), (60.97826087, -22.472785755), (93.456043394, -22.472785755), align=None)
        Polygon((137.217152132, 53.323677974), (120.97826087, 25.197093249), (148.500478345, -22.472785755), (178.500478345, 29.488738472), align=None)
        Polygon((148.500478345, -22.472785755), (93.456043394, -22.472785755), (123.456043394, -74.434309982), (164.739369607, -50.59937048), align=None)
    extrude(amount=-BOSS_EXTRUDE7_DEPTH)


solid = part_6.part
